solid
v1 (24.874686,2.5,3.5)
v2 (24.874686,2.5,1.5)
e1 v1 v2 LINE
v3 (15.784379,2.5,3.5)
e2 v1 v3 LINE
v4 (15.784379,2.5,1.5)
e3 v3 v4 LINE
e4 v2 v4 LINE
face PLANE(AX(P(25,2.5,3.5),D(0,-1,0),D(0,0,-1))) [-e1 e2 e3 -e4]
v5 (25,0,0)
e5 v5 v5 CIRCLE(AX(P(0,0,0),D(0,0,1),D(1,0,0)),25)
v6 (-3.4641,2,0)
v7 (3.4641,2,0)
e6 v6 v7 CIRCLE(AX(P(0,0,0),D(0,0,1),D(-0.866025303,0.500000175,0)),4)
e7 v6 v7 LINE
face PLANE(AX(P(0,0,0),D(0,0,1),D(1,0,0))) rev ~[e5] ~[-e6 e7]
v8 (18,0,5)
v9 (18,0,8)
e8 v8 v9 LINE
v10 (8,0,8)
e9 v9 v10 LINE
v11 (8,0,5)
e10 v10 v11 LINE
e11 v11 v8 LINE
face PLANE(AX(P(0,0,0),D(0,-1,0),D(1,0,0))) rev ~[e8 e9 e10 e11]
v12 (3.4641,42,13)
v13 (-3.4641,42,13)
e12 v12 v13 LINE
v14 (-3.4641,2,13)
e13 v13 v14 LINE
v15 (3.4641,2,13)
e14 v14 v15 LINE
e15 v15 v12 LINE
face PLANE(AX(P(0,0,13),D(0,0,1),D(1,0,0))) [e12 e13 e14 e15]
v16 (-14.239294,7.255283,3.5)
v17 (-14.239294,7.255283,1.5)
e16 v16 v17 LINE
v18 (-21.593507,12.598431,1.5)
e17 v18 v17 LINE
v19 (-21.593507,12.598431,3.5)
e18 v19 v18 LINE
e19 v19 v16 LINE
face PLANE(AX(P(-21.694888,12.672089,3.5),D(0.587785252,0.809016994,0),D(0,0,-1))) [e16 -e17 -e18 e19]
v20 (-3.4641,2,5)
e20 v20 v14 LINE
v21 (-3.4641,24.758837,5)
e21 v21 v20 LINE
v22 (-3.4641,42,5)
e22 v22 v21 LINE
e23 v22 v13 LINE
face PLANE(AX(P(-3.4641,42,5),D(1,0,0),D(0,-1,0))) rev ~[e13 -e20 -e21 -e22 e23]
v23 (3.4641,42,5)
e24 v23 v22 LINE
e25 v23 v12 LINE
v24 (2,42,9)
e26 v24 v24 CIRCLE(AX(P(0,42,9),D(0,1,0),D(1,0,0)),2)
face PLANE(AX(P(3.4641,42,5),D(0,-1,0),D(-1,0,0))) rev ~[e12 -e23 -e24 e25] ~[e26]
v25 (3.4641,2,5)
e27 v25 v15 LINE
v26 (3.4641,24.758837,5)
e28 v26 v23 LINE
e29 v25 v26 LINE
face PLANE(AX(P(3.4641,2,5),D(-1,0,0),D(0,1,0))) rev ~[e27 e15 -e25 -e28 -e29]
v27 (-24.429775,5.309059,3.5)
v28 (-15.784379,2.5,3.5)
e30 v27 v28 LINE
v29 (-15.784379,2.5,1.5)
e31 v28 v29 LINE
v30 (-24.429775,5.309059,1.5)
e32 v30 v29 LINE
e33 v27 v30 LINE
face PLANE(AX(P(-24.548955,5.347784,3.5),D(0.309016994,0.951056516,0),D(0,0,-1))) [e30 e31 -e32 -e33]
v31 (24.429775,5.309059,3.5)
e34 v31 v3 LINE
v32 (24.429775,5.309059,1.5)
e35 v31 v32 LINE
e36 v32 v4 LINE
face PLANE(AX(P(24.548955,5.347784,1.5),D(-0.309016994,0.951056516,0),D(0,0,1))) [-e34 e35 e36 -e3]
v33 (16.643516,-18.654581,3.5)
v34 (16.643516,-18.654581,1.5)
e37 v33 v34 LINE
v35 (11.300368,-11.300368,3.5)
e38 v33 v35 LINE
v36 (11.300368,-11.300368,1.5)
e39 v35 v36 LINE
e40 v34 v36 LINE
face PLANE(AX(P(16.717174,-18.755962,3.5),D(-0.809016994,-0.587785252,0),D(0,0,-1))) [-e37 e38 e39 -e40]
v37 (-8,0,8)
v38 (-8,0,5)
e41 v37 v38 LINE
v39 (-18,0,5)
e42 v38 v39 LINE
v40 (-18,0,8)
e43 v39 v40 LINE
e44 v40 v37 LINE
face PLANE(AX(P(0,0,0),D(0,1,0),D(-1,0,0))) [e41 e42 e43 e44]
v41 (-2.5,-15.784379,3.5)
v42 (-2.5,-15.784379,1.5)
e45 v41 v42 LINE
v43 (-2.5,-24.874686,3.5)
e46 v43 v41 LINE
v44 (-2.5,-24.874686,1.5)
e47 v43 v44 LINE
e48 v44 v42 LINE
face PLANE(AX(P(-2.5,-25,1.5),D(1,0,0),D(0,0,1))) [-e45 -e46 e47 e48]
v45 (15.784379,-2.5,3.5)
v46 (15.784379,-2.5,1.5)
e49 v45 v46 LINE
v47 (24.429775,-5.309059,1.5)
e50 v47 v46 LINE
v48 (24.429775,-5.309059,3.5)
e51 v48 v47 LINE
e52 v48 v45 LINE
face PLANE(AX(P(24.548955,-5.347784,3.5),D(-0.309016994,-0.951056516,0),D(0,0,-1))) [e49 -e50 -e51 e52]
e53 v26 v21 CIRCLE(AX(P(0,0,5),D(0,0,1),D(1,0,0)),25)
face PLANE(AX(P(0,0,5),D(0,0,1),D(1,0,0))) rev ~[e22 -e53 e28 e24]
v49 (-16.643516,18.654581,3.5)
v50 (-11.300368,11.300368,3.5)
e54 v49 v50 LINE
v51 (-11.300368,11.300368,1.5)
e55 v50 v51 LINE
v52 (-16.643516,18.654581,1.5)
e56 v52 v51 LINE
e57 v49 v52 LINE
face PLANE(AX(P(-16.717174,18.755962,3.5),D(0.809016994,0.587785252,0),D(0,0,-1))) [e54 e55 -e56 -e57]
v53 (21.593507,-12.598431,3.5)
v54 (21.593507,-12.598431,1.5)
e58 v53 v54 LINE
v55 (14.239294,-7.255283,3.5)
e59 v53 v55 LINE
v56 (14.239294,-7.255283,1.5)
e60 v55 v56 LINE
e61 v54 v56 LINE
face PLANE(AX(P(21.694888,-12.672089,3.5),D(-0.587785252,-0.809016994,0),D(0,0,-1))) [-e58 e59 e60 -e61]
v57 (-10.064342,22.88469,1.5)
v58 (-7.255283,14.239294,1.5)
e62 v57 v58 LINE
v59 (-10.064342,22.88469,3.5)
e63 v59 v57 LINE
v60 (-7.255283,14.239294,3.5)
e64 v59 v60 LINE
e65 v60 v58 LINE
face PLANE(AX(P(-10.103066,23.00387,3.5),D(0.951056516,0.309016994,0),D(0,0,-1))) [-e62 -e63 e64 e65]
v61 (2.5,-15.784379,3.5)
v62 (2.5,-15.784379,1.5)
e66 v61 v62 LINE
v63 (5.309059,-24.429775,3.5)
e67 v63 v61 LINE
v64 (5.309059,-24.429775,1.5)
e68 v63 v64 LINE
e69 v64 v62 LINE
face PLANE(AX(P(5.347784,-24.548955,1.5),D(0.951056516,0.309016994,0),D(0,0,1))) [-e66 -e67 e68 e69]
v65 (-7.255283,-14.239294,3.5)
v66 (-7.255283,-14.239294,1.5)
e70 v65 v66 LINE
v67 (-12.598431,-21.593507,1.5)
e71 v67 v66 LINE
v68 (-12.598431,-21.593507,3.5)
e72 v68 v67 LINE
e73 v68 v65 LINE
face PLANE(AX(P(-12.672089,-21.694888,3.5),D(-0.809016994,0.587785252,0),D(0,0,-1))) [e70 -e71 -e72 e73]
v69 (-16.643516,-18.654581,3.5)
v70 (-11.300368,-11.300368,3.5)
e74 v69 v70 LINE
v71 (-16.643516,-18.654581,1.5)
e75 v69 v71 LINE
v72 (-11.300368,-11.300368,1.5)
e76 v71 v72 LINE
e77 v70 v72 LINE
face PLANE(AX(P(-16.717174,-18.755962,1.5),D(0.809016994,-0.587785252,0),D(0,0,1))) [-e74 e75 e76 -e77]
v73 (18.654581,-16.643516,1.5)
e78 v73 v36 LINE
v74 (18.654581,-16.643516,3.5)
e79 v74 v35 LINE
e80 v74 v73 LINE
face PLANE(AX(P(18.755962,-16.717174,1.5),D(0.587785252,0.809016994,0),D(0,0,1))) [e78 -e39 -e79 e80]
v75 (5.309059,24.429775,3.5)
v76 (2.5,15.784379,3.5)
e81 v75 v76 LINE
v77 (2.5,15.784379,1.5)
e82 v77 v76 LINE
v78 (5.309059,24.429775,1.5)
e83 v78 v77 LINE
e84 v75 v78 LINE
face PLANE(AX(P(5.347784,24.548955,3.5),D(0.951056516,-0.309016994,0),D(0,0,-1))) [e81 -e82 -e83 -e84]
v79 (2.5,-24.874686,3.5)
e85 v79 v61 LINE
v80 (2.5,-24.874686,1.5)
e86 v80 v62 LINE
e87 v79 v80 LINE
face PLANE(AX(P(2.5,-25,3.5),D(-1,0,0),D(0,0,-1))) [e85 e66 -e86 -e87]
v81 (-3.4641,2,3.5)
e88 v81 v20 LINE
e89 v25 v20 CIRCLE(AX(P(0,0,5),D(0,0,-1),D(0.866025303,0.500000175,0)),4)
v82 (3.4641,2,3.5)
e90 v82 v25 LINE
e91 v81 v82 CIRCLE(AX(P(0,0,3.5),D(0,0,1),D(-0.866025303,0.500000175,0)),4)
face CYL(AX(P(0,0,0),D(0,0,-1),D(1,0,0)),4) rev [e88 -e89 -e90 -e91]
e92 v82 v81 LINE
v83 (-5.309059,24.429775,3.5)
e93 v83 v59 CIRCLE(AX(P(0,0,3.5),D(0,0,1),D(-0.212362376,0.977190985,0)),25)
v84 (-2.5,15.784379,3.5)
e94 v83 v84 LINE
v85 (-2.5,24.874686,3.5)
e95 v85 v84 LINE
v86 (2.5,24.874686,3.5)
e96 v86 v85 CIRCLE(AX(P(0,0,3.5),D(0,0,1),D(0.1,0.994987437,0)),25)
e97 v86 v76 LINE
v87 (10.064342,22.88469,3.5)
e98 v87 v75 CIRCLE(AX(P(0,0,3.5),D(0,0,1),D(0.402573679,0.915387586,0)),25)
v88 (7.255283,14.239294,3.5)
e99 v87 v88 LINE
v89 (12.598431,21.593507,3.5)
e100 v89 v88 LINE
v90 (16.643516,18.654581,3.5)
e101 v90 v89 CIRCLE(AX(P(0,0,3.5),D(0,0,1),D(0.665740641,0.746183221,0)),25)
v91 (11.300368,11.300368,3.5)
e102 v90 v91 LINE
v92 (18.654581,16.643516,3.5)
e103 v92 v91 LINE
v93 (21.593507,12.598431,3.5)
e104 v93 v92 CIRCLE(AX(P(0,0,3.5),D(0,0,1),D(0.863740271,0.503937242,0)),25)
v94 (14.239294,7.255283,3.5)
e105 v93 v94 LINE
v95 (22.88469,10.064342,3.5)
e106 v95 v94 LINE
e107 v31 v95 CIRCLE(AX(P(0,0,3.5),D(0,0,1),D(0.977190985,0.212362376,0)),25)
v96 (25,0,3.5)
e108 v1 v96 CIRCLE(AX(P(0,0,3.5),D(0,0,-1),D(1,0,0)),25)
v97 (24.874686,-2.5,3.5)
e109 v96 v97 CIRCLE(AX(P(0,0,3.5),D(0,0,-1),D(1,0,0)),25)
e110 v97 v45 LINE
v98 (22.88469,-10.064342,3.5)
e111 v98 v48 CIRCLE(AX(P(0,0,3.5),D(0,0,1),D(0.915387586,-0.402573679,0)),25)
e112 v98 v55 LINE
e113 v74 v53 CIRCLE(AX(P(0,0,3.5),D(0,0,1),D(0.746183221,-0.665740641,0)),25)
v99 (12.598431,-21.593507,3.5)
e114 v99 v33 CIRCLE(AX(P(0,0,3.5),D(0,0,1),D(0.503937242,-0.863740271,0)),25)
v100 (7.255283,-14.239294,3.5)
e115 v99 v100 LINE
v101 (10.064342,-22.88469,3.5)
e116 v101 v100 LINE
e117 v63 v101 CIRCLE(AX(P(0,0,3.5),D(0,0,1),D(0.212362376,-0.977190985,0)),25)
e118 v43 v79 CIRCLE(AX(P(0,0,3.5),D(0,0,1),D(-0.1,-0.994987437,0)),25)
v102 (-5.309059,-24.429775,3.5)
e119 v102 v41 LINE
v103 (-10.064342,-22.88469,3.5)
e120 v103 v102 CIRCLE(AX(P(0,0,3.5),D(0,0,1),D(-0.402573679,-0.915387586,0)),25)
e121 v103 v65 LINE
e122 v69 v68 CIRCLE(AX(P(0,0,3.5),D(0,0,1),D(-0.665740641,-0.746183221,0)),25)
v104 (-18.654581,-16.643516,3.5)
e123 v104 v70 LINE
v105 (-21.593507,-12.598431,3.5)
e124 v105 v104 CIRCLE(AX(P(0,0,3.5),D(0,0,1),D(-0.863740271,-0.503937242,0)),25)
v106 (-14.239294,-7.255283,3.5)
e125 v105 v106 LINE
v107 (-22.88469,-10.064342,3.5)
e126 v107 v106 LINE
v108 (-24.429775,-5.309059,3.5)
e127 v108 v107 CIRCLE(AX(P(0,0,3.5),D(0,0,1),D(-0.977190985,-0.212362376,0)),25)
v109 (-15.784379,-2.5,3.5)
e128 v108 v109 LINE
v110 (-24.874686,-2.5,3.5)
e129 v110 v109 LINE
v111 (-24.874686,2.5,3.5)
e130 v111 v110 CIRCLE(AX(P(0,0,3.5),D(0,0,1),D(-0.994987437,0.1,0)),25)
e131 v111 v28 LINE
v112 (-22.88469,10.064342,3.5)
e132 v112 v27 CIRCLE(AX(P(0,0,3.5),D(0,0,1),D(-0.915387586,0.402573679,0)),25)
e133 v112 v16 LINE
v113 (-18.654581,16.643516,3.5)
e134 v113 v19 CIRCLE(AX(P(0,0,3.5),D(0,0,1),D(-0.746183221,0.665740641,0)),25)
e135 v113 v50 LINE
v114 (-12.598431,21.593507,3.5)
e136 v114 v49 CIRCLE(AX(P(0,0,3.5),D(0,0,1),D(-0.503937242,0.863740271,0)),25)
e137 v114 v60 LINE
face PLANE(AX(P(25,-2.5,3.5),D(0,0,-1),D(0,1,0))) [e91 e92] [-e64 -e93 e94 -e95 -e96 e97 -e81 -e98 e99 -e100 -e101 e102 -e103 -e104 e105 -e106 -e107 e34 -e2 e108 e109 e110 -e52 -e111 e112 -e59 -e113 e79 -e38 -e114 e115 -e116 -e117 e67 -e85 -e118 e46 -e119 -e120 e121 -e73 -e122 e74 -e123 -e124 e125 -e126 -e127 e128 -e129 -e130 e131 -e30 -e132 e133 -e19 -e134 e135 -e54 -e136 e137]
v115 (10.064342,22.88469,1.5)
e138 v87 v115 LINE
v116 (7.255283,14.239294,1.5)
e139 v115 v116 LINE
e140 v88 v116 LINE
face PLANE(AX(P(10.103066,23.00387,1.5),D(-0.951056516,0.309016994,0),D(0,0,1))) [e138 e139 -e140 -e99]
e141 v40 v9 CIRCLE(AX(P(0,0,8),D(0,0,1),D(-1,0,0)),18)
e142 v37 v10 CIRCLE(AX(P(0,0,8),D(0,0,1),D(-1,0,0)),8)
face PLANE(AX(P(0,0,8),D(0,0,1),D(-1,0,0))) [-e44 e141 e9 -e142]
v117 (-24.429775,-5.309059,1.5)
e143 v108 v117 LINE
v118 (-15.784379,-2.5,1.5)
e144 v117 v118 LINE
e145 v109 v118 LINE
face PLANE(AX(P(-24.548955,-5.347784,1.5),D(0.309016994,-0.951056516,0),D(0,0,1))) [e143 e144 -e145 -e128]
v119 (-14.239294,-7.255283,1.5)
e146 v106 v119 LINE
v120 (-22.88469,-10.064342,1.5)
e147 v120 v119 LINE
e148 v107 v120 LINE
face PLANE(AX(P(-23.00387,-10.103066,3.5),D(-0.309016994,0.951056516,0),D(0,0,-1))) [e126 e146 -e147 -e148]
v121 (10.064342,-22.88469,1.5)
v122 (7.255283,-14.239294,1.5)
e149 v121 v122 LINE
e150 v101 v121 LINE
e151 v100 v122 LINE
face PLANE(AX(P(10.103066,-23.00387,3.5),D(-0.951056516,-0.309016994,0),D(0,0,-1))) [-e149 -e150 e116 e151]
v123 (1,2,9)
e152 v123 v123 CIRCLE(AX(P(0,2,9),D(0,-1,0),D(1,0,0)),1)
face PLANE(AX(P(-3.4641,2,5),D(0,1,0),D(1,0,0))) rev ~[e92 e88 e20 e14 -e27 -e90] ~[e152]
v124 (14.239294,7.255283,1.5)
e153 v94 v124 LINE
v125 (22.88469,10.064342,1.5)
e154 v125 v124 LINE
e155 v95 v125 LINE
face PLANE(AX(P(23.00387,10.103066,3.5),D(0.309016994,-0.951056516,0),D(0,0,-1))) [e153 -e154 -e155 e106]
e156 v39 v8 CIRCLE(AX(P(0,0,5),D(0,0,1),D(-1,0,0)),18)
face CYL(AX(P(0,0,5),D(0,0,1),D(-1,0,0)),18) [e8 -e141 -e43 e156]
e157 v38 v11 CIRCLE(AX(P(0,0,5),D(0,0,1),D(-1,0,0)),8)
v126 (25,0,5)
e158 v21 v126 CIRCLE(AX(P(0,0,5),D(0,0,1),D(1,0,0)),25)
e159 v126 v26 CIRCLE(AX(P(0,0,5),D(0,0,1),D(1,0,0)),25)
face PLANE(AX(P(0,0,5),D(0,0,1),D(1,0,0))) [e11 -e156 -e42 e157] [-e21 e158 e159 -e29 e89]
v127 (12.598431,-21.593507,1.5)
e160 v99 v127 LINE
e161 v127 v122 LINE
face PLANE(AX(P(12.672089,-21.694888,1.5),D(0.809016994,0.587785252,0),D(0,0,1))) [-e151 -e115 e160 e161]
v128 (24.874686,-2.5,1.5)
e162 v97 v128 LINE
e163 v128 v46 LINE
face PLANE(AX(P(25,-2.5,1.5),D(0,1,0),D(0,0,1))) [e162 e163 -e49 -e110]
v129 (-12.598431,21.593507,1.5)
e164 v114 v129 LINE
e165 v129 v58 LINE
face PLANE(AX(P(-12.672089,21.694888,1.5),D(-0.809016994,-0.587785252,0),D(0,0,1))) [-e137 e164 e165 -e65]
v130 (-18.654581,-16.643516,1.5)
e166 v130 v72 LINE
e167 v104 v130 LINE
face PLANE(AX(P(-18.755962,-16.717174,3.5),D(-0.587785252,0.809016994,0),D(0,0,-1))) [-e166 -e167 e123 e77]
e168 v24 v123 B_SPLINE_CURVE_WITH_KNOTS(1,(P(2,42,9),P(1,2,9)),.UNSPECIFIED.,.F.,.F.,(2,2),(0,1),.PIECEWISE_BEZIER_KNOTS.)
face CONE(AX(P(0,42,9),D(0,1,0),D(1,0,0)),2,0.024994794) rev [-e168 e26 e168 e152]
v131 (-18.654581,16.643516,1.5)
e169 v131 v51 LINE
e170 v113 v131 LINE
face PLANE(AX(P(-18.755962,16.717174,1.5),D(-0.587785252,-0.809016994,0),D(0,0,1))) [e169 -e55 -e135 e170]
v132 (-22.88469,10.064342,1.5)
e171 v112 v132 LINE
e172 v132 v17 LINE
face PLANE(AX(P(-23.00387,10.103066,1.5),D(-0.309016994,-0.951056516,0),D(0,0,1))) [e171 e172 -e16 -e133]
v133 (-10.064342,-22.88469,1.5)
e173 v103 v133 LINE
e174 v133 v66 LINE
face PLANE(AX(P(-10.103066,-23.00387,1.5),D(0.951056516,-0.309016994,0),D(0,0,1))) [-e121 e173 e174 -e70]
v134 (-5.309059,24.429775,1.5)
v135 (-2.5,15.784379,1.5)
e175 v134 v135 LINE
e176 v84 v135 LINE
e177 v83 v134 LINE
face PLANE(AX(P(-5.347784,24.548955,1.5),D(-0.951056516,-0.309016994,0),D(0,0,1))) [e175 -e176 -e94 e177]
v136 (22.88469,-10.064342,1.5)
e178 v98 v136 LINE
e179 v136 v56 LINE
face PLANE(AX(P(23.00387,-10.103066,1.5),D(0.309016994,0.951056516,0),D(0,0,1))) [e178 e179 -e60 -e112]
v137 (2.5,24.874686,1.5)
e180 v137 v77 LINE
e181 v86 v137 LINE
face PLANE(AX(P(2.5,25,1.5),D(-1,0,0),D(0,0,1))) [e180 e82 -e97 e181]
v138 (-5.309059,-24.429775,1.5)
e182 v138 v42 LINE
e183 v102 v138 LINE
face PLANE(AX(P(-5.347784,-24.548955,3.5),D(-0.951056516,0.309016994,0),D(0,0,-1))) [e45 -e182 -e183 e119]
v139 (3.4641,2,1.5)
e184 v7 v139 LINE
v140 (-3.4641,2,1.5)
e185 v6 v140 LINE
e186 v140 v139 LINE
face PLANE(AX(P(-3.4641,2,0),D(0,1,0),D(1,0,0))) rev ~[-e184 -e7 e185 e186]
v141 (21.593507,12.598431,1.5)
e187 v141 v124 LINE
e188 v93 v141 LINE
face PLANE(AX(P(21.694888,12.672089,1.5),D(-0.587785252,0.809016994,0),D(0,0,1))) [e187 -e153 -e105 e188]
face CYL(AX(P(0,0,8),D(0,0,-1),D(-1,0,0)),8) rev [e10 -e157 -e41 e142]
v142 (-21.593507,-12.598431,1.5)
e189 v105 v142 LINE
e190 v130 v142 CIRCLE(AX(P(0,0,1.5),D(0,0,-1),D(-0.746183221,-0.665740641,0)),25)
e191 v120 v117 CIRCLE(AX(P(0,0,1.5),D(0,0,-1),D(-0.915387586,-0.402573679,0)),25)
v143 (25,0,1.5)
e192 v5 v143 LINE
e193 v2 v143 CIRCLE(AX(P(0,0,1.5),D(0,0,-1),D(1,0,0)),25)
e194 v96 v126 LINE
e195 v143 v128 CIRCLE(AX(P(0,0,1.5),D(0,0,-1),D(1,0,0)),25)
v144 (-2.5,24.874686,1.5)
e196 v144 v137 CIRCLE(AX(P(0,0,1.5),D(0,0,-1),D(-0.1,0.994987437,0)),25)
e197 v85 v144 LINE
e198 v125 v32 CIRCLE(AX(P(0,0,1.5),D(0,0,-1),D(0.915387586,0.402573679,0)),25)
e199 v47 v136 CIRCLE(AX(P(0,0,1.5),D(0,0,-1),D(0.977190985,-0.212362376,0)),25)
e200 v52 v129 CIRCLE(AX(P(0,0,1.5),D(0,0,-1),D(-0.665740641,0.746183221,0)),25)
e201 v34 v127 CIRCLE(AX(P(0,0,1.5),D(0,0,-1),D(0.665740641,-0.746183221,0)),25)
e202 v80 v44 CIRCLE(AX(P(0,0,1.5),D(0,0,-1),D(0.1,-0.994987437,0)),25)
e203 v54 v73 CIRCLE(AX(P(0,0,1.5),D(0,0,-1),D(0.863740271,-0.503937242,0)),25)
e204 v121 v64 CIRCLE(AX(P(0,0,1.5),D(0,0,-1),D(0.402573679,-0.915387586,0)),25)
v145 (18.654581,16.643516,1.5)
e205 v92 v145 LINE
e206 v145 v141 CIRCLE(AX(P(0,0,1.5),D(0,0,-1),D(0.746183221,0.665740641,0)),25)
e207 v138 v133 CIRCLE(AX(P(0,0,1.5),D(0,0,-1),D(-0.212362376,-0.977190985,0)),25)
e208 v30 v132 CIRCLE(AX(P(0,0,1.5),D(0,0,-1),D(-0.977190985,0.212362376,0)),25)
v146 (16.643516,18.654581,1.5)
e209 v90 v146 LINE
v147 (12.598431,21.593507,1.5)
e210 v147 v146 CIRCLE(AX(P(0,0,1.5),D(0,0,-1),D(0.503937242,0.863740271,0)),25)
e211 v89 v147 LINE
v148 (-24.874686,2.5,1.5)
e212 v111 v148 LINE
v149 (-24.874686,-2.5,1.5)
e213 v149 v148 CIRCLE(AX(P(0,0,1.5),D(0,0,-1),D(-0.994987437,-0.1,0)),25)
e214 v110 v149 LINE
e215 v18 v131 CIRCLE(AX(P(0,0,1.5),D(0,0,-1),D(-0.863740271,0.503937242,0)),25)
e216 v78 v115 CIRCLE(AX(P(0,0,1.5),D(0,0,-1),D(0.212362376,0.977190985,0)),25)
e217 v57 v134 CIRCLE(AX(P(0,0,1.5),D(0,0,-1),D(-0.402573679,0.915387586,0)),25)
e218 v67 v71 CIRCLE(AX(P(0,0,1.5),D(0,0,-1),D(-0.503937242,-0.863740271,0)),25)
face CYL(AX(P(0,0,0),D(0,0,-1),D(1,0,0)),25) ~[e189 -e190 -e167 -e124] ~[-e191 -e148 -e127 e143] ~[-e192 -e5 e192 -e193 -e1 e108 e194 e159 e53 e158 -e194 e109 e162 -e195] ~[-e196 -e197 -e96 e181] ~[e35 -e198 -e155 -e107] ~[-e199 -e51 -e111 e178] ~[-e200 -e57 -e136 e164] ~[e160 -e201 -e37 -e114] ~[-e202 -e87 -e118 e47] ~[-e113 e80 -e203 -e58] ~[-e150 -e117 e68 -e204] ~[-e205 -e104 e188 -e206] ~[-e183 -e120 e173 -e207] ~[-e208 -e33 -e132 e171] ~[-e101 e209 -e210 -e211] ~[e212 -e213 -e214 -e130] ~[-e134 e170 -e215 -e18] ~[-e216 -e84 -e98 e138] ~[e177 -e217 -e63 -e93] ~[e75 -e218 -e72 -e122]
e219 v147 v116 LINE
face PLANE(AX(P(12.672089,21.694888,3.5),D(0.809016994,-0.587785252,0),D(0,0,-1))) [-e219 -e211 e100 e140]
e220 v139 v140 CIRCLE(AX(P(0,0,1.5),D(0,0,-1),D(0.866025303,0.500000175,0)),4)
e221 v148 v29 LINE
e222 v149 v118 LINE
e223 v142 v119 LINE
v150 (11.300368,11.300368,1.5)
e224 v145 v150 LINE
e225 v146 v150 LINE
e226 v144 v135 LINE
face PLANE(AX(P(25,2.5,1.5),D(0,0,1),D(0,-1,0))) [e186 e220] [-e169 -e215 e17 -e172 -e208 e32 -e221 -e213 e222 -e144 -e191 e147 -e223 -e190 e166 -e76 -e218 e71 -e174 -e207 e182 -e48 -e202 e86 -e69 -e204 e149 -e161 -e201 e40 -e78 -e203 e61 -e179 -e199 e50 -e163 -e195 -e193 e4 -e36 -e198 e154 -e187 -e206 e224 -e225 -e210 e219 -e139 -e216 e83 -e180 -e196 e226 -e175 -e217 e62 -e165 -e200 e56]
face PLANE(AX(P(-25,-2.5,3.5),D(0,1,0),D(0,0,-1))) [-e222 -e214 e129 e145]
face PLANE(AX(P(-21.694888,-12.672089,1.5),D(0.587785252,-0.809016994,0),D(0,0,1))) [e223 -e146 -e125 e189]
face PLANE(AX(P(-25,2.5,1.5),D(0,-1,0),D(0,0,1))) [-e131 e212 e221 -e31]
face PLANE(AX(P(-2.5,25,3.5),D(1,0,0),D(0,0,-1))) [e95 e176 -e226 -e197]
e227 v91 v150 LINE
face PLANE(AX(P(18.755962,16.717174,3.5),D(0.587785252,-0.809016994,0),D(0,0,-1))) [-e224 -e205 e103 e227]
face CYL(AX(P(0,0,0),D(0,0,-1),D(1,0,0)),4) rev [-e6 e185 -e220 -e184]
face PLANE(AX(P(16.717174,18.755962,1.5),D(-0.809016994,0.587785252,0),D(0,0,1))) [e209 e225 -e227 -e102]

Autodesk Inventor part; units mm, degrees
ref_plane "YZ Plane" through (0, 0, 0) normal (1, 0, 0) x (0, 1, 0)
ref_plane "XY Plane" through (0, 0, 0) normal (0, 0, 1) x (1, 0, 0)
sketch "Sketch1" plane through (0, 0, 0) normal (0, 0, 1) x (1, 0, 0)
  circle A0 centre (0, 0) radius 25
  circle A1 centre (0, 0) radius 4
  line L0 (-3.4641, 2) -> (3.4641, 2)
  dimension "d0" = 50
  dimension "d1" = 8
  dimension "d2" = 2
extrude "Extrusion1" add sketch "Sketch1" along normal blind 5 contours A0 | L0 A1 picked at (-0.1548, 2.6577)
ref_plane "Work Plane1" through (0, 25, 0) normal (0, 1, 0) x (-1, 0, 0)
sketch "Sketch3" plane through (0, 25, 0) normal (0, 1, 0) x (-1, 0, 0)
  line L0 (2.5, 1.5) -> (-2.5, 1.5)
  line L1 (-2.5, 1.5) -> (-2.5, 3.5)
  line L2 (-2.5, 3.5) -> (2.5, 3.5)
  line L3 (2.5, 3.5) -> (2.5, 1.5)
  line L4 (25, 0) -> (25, 5) construction
  point P0 (0, 0)
  point P1 (0, 1.5)
  point P2 (2.5, 2.5)
  point P3 (25, 2.5)
  dimension "d12" = 5
  dimension "d13" = 2
extrude "Extrusion2" cut sketch "Sketch3" against normal blind 25
pattern_circular "Circular Pattern1" count 20 over 360 about axis through (0, 0, -10) along (0, 0, 1) of "Extrusion2"
sketch "Sketch4" plane through (0, 0, 5) normal (0, 0, 1) x (1, 0, 0)
  line L0 (-3.4641, 2) -> (3.4641, 2) projected
  line L1 (-3.4641, 2) -> (3.4641, 2)
  line L2 (3.4641, 2) -> (3.4641, 42)
  line L3 (3.4641, 42) -> (-3.4641, 42)
  line L4 (-3.4641, 42) -> (-3.4641, 2)
  point P0 (0, 0)
  dimension "d19" = 40
  dimension "d20" = 6.9282
extrude "Extrusion3" add sketch "Sketch4" along normal blind 8
sketch "Sketch5" plane through (-3.4641, 42, 5) normal (0, 1, 0) x (1, 0, 0)
  circle A0 centre (3.4641, -4) radius 2
  line L0 (6.9282, 0) -> (0, 0) construction
  line L1 (0, 0) -> (0, -8) construction
  line L2 (6.9282, -8) -> (0, -8) construction
  line L3 (6.9282, 0) -> (6.9282, -8) construction
  point P0 (3.4641, 5)
  point P1 (6.9282, -4)
  point P2 (3.4641, -8)
  dimension "d23" = 4
sketch "Sketch6" plane through (-3.4641, 2, 3.5) normal (0, -1, 0) x (1, 0, 0)
  circle A0 centre (3.4641, 5.5) radius 1
  line L0 (0, 9.5) -> (6.9282, 9.5) projected
  line L1 (6.9282, 1.5) -> (6.9282, 9.5) projected
  point P0 (3.4641, -3.5)
  point P1 (3.4641, 9.5)
  point P2 (6.9282, 5.5)
  dimension "d24" = 2
loft "Loft1" cut profiles "Sketch5", "Sketch6"
sketch "Sketch7" plane through (0, 0, 0) normal (0, 1, 0) x (-1, 0, 0)
  line L0 (25, 5) -> (-25, 5) construction
  line L1 (8, 5) -> (18, 5)
  line L2 (18, 5) -> (18, 8)
  line L3 (18, 8) -> (8, 8)
  line L4 (8, 8) -> (8, 5)
  line L5 (-10.0643, 3.5) -> (-5.3091, 3.5) construction
  line L6 (-5.3091, 3.5) -> (-5.3091, 1.5) construction
  line L7 (-5.3091, 1.5) -> (-10.0643, 1.5) construction
  line L8 (-10.0643, 1.5) -> (-10.0643, 3.5) construction
  line L9 (-24.8747, 1.5) -> (-24.8747, 1.5) construction
  line L10 (-24.8747, 1.5) -> (-24.8747, 3.5) construction
  line L11 (-24.8747, 3.5) -> (-24.8747, 3.5) construction
  line L12 (-24.8747, 3.5) -> (-24.8747, 1.5) construction
  line L13 (-24.4298, 1.5) -> (-22.8847, 1.5) construction
  line L14 (-22.8847, 1.5) -> (-22.8847, 3.5) construction
  line L15 (-22.8847, 3.5) -> (-24.4298, 3.5) construction
  line L16 (-24.4298, 3.5) -> (-24.4298, 1.5) construction
  line L17 (-21.5935, 1.5) -> (-18.6546, 1.5) construction
  line L18 (-18.6546, 1.5) -> (-18.6546, 3.5) construction
  line L19 (-18.6546, 3.5) -> (-21.5935, 3.5) construction
  line L20 (-21.5935, 3.5) -> (-21.5935, 1.5) construction
  line L21 (-16.6435, 1.5) -> (-12.5984, 1.5) construction
  line L22 (-12.5984, 1.5) -> (-12.5984, 3.5) construction
  line L23 (-12.5984, 3.5) -> (-16.6435, 3.5) construction
  line L24 (-16.6435, 3.5) -> (-16.6435, 1.5) construction
  line L25 (-10.0643, 1.5) -> (-5.3091, 1.5) construction
  line L26 (-5.3091, 1.5) -> (-5.3091, 3.5) construction
  line L27 (-5.3091, 3.5) -> (-10.0643, 3.5) construction
  line L28 (-10.0643, 3.5) -> (-10.0643, 1.5) construction
  line L29 (10.0643, 1.5) -> (5.3091, 1.5) construction
  line L30 (5.3091, 1.5) -> (5.3091, 3.5) construction
  line L31 (5.3091, 3.5) -> (10.0643, 3.5) construction
  line L32 (10.0643, 3.5) -> (10.0643, 1.5) construction
  line L33 (-12.5984, 1.5) -> (-16.6435, 1.5) construction
  line L34 (-16.6435, 1.5) -> (-16.6435, 3.5) construction
  line L35 (-16.6435, 3.5) -> (-12.5984, 3.5) construction
  line L36 (-12.5984, 3.5) -> (-12.5984, 1.5) construction
  line L37 (-18.6546, 1.5) -> (-21.5935, 1.5) construction
  line L38 (-21.5935, 1.5) -> (-21.5935, 3.5) construction
  line L39 (-21.5935, 3.5) -> (-18.6546, 3.5) construction
  line L40 (-18.6546, 3.5) -> (-18.6546, 1.5) construction
  line L41 (-22.8847, 1.5) -> (-24.4298, 1.5) construction
  line L42 (-24.4298, 1.5) -> (-24.4298, 3.5) construction
  line L43 (-24.4298, 3.5) -> (-22.8847, 3.5) construction
  line L44 (-22.8847, 3.5) -> (-22.8847, 1.5) construction
  line L45 (12.5984, 3.5) -> (16.6435, 3.5) construction
  line L46 (16.6435, 3.5) -> (16.6435, 1.5) construction
  line L47 (16.6435, 1.5) -> (12.5984, 1.5) construction
  line L48 (12.5984, 1.5) -> (12.5984, 3.5) construction
  line L49 (18.6546, 3.5) -> (21.5935, 3.5) construction
  line L50 (21.5935, 3.5) -> (21.5935, 1.5) construction
  line L51 (21.5935, 1.5) -> (18.6546, 1.5) construction
  line L52 (18.6546, 1.5) -> (18.6546, 3.5) construction
  line L53 (22.8847, 3.5) -> (24.4298, 3.5) construction
  line L54 (24.4298, 3.5) -> (24.4298, 1.5) construction
  line L55 (24.4298, 1.5) -> (22.8847, 1.5) construction
  line L56 (22.8847, 1.5) -> (22.8847, 3.5) construction
  line L57 (24.8747, 3.5) -> (24.8747, 3.5) construction
  line L58 (24.8747, 3.5) -> (24.8747, 1.5) construction
  line L59 (24.8747, 1.5) -> (24.8747, 1.5) construction
  line L60 (24.8747, 1.5) -> (24.8747, 3.5) construction
  line L61 (24.4298, 3.5) -> (22.8847, 3.5) construction
  line L62 (22.8847, 3.5) -> (22.8847, 1.5) construction
  line L63 (22.8847, 1.5) -> (24.4298, 1.5) construction
  line L64 (24.4298, 1.5) -> (24.4298, 3.5) construction
  line L65 (21.5935, 3.5) -> (18.6546, 3.5) construction
  line L66 (18.6546, 3.5) -> (18.6546, 1.5) construction
  line L67 (18.6546, 1.5) -> (21.5935, 1.5) construction
  line L68 (21.5935, 1.5) -> (21.5935, 3.5) construction
  line L69 (16.6435, 3.5) -> (12.5984, 3.5) construction
  line L70 (12.5984, 3.5) -> (12.5984, 1.5) construction
  line L71 (12.5984, 1.5) -> (16.6435, 1.5) construction
  line L72 (16.6435, 1.5) -> (16.6435, 3.5) construction
  line L73 (10.0643, 3.5) -> (5.3091, 3.5) construction
  line L74 (5.3091, 3.5) -> (5.3091, 1.5) construction
  line L75 (5.3091, 1.5) -> (10.0643, 1.5) construction
  line L76 (10.0643, 1.5) -> (10.0643, 3.5) construction
  line L77 (2.5, 3.5) -> (-2.5, 3.5) construction
  line L78 (-2.5, 3.5) -> (-2.5, 1.5) construction
  line L79 (-2.5, 1.5) -> (2.5, 1.5) construction
  line L80 (2.5, 1.5) -> (2.5, 3.5) construction
  line L81 (-2.5, 3.5) -> (2.5, 3.5) construction
  line L82 (2.5, 3.5) -> (2.5, 1.5) construction
  line L83 (2.5, 1.5) -> (-2.5, 1.5) construction
  line L84 (-2.5, 1.5) -> (-2.5, 3.5) construction
  line L85 (3.4641, 5) -> (-3.4641, 5) construction
  line L86 (-3.4641, 5) -> (3.4641, 5) construction
  line L87 (-25, 0) -> (25, 0) construction
  circle A0 centre (0, 9) radius 1 construction
  line L88 (3.4641, 3.5) -> (-3.4641, 3.5) construction
  line L89 (-3.4641, 3.5) -> (-3.4641, 5) construction
  line L90 (-3.4641, 5) -> (-3.4641, 13) construction
  line L91 (3.4641, 13) -> (-3.4641, 13) construction
  line L92 (3.4641, 5) -> (3.4641, 13) construction
  line L93 (3.4641, 3.5) -> (3.4641, 5) construction
  line L94 (0, -2.6) -> (0, 15.6) projected
  point P0 (0, 0)
  dimension "d29" = 8
  dimension "d30" = 3
  dimension "d31" = 10
revolve "Revolution1" add sketch "Sketch7" angle 180 about axis through (0, 0, -10) along (0, 0, 1)
properties part number "Parcial3_Repo"
